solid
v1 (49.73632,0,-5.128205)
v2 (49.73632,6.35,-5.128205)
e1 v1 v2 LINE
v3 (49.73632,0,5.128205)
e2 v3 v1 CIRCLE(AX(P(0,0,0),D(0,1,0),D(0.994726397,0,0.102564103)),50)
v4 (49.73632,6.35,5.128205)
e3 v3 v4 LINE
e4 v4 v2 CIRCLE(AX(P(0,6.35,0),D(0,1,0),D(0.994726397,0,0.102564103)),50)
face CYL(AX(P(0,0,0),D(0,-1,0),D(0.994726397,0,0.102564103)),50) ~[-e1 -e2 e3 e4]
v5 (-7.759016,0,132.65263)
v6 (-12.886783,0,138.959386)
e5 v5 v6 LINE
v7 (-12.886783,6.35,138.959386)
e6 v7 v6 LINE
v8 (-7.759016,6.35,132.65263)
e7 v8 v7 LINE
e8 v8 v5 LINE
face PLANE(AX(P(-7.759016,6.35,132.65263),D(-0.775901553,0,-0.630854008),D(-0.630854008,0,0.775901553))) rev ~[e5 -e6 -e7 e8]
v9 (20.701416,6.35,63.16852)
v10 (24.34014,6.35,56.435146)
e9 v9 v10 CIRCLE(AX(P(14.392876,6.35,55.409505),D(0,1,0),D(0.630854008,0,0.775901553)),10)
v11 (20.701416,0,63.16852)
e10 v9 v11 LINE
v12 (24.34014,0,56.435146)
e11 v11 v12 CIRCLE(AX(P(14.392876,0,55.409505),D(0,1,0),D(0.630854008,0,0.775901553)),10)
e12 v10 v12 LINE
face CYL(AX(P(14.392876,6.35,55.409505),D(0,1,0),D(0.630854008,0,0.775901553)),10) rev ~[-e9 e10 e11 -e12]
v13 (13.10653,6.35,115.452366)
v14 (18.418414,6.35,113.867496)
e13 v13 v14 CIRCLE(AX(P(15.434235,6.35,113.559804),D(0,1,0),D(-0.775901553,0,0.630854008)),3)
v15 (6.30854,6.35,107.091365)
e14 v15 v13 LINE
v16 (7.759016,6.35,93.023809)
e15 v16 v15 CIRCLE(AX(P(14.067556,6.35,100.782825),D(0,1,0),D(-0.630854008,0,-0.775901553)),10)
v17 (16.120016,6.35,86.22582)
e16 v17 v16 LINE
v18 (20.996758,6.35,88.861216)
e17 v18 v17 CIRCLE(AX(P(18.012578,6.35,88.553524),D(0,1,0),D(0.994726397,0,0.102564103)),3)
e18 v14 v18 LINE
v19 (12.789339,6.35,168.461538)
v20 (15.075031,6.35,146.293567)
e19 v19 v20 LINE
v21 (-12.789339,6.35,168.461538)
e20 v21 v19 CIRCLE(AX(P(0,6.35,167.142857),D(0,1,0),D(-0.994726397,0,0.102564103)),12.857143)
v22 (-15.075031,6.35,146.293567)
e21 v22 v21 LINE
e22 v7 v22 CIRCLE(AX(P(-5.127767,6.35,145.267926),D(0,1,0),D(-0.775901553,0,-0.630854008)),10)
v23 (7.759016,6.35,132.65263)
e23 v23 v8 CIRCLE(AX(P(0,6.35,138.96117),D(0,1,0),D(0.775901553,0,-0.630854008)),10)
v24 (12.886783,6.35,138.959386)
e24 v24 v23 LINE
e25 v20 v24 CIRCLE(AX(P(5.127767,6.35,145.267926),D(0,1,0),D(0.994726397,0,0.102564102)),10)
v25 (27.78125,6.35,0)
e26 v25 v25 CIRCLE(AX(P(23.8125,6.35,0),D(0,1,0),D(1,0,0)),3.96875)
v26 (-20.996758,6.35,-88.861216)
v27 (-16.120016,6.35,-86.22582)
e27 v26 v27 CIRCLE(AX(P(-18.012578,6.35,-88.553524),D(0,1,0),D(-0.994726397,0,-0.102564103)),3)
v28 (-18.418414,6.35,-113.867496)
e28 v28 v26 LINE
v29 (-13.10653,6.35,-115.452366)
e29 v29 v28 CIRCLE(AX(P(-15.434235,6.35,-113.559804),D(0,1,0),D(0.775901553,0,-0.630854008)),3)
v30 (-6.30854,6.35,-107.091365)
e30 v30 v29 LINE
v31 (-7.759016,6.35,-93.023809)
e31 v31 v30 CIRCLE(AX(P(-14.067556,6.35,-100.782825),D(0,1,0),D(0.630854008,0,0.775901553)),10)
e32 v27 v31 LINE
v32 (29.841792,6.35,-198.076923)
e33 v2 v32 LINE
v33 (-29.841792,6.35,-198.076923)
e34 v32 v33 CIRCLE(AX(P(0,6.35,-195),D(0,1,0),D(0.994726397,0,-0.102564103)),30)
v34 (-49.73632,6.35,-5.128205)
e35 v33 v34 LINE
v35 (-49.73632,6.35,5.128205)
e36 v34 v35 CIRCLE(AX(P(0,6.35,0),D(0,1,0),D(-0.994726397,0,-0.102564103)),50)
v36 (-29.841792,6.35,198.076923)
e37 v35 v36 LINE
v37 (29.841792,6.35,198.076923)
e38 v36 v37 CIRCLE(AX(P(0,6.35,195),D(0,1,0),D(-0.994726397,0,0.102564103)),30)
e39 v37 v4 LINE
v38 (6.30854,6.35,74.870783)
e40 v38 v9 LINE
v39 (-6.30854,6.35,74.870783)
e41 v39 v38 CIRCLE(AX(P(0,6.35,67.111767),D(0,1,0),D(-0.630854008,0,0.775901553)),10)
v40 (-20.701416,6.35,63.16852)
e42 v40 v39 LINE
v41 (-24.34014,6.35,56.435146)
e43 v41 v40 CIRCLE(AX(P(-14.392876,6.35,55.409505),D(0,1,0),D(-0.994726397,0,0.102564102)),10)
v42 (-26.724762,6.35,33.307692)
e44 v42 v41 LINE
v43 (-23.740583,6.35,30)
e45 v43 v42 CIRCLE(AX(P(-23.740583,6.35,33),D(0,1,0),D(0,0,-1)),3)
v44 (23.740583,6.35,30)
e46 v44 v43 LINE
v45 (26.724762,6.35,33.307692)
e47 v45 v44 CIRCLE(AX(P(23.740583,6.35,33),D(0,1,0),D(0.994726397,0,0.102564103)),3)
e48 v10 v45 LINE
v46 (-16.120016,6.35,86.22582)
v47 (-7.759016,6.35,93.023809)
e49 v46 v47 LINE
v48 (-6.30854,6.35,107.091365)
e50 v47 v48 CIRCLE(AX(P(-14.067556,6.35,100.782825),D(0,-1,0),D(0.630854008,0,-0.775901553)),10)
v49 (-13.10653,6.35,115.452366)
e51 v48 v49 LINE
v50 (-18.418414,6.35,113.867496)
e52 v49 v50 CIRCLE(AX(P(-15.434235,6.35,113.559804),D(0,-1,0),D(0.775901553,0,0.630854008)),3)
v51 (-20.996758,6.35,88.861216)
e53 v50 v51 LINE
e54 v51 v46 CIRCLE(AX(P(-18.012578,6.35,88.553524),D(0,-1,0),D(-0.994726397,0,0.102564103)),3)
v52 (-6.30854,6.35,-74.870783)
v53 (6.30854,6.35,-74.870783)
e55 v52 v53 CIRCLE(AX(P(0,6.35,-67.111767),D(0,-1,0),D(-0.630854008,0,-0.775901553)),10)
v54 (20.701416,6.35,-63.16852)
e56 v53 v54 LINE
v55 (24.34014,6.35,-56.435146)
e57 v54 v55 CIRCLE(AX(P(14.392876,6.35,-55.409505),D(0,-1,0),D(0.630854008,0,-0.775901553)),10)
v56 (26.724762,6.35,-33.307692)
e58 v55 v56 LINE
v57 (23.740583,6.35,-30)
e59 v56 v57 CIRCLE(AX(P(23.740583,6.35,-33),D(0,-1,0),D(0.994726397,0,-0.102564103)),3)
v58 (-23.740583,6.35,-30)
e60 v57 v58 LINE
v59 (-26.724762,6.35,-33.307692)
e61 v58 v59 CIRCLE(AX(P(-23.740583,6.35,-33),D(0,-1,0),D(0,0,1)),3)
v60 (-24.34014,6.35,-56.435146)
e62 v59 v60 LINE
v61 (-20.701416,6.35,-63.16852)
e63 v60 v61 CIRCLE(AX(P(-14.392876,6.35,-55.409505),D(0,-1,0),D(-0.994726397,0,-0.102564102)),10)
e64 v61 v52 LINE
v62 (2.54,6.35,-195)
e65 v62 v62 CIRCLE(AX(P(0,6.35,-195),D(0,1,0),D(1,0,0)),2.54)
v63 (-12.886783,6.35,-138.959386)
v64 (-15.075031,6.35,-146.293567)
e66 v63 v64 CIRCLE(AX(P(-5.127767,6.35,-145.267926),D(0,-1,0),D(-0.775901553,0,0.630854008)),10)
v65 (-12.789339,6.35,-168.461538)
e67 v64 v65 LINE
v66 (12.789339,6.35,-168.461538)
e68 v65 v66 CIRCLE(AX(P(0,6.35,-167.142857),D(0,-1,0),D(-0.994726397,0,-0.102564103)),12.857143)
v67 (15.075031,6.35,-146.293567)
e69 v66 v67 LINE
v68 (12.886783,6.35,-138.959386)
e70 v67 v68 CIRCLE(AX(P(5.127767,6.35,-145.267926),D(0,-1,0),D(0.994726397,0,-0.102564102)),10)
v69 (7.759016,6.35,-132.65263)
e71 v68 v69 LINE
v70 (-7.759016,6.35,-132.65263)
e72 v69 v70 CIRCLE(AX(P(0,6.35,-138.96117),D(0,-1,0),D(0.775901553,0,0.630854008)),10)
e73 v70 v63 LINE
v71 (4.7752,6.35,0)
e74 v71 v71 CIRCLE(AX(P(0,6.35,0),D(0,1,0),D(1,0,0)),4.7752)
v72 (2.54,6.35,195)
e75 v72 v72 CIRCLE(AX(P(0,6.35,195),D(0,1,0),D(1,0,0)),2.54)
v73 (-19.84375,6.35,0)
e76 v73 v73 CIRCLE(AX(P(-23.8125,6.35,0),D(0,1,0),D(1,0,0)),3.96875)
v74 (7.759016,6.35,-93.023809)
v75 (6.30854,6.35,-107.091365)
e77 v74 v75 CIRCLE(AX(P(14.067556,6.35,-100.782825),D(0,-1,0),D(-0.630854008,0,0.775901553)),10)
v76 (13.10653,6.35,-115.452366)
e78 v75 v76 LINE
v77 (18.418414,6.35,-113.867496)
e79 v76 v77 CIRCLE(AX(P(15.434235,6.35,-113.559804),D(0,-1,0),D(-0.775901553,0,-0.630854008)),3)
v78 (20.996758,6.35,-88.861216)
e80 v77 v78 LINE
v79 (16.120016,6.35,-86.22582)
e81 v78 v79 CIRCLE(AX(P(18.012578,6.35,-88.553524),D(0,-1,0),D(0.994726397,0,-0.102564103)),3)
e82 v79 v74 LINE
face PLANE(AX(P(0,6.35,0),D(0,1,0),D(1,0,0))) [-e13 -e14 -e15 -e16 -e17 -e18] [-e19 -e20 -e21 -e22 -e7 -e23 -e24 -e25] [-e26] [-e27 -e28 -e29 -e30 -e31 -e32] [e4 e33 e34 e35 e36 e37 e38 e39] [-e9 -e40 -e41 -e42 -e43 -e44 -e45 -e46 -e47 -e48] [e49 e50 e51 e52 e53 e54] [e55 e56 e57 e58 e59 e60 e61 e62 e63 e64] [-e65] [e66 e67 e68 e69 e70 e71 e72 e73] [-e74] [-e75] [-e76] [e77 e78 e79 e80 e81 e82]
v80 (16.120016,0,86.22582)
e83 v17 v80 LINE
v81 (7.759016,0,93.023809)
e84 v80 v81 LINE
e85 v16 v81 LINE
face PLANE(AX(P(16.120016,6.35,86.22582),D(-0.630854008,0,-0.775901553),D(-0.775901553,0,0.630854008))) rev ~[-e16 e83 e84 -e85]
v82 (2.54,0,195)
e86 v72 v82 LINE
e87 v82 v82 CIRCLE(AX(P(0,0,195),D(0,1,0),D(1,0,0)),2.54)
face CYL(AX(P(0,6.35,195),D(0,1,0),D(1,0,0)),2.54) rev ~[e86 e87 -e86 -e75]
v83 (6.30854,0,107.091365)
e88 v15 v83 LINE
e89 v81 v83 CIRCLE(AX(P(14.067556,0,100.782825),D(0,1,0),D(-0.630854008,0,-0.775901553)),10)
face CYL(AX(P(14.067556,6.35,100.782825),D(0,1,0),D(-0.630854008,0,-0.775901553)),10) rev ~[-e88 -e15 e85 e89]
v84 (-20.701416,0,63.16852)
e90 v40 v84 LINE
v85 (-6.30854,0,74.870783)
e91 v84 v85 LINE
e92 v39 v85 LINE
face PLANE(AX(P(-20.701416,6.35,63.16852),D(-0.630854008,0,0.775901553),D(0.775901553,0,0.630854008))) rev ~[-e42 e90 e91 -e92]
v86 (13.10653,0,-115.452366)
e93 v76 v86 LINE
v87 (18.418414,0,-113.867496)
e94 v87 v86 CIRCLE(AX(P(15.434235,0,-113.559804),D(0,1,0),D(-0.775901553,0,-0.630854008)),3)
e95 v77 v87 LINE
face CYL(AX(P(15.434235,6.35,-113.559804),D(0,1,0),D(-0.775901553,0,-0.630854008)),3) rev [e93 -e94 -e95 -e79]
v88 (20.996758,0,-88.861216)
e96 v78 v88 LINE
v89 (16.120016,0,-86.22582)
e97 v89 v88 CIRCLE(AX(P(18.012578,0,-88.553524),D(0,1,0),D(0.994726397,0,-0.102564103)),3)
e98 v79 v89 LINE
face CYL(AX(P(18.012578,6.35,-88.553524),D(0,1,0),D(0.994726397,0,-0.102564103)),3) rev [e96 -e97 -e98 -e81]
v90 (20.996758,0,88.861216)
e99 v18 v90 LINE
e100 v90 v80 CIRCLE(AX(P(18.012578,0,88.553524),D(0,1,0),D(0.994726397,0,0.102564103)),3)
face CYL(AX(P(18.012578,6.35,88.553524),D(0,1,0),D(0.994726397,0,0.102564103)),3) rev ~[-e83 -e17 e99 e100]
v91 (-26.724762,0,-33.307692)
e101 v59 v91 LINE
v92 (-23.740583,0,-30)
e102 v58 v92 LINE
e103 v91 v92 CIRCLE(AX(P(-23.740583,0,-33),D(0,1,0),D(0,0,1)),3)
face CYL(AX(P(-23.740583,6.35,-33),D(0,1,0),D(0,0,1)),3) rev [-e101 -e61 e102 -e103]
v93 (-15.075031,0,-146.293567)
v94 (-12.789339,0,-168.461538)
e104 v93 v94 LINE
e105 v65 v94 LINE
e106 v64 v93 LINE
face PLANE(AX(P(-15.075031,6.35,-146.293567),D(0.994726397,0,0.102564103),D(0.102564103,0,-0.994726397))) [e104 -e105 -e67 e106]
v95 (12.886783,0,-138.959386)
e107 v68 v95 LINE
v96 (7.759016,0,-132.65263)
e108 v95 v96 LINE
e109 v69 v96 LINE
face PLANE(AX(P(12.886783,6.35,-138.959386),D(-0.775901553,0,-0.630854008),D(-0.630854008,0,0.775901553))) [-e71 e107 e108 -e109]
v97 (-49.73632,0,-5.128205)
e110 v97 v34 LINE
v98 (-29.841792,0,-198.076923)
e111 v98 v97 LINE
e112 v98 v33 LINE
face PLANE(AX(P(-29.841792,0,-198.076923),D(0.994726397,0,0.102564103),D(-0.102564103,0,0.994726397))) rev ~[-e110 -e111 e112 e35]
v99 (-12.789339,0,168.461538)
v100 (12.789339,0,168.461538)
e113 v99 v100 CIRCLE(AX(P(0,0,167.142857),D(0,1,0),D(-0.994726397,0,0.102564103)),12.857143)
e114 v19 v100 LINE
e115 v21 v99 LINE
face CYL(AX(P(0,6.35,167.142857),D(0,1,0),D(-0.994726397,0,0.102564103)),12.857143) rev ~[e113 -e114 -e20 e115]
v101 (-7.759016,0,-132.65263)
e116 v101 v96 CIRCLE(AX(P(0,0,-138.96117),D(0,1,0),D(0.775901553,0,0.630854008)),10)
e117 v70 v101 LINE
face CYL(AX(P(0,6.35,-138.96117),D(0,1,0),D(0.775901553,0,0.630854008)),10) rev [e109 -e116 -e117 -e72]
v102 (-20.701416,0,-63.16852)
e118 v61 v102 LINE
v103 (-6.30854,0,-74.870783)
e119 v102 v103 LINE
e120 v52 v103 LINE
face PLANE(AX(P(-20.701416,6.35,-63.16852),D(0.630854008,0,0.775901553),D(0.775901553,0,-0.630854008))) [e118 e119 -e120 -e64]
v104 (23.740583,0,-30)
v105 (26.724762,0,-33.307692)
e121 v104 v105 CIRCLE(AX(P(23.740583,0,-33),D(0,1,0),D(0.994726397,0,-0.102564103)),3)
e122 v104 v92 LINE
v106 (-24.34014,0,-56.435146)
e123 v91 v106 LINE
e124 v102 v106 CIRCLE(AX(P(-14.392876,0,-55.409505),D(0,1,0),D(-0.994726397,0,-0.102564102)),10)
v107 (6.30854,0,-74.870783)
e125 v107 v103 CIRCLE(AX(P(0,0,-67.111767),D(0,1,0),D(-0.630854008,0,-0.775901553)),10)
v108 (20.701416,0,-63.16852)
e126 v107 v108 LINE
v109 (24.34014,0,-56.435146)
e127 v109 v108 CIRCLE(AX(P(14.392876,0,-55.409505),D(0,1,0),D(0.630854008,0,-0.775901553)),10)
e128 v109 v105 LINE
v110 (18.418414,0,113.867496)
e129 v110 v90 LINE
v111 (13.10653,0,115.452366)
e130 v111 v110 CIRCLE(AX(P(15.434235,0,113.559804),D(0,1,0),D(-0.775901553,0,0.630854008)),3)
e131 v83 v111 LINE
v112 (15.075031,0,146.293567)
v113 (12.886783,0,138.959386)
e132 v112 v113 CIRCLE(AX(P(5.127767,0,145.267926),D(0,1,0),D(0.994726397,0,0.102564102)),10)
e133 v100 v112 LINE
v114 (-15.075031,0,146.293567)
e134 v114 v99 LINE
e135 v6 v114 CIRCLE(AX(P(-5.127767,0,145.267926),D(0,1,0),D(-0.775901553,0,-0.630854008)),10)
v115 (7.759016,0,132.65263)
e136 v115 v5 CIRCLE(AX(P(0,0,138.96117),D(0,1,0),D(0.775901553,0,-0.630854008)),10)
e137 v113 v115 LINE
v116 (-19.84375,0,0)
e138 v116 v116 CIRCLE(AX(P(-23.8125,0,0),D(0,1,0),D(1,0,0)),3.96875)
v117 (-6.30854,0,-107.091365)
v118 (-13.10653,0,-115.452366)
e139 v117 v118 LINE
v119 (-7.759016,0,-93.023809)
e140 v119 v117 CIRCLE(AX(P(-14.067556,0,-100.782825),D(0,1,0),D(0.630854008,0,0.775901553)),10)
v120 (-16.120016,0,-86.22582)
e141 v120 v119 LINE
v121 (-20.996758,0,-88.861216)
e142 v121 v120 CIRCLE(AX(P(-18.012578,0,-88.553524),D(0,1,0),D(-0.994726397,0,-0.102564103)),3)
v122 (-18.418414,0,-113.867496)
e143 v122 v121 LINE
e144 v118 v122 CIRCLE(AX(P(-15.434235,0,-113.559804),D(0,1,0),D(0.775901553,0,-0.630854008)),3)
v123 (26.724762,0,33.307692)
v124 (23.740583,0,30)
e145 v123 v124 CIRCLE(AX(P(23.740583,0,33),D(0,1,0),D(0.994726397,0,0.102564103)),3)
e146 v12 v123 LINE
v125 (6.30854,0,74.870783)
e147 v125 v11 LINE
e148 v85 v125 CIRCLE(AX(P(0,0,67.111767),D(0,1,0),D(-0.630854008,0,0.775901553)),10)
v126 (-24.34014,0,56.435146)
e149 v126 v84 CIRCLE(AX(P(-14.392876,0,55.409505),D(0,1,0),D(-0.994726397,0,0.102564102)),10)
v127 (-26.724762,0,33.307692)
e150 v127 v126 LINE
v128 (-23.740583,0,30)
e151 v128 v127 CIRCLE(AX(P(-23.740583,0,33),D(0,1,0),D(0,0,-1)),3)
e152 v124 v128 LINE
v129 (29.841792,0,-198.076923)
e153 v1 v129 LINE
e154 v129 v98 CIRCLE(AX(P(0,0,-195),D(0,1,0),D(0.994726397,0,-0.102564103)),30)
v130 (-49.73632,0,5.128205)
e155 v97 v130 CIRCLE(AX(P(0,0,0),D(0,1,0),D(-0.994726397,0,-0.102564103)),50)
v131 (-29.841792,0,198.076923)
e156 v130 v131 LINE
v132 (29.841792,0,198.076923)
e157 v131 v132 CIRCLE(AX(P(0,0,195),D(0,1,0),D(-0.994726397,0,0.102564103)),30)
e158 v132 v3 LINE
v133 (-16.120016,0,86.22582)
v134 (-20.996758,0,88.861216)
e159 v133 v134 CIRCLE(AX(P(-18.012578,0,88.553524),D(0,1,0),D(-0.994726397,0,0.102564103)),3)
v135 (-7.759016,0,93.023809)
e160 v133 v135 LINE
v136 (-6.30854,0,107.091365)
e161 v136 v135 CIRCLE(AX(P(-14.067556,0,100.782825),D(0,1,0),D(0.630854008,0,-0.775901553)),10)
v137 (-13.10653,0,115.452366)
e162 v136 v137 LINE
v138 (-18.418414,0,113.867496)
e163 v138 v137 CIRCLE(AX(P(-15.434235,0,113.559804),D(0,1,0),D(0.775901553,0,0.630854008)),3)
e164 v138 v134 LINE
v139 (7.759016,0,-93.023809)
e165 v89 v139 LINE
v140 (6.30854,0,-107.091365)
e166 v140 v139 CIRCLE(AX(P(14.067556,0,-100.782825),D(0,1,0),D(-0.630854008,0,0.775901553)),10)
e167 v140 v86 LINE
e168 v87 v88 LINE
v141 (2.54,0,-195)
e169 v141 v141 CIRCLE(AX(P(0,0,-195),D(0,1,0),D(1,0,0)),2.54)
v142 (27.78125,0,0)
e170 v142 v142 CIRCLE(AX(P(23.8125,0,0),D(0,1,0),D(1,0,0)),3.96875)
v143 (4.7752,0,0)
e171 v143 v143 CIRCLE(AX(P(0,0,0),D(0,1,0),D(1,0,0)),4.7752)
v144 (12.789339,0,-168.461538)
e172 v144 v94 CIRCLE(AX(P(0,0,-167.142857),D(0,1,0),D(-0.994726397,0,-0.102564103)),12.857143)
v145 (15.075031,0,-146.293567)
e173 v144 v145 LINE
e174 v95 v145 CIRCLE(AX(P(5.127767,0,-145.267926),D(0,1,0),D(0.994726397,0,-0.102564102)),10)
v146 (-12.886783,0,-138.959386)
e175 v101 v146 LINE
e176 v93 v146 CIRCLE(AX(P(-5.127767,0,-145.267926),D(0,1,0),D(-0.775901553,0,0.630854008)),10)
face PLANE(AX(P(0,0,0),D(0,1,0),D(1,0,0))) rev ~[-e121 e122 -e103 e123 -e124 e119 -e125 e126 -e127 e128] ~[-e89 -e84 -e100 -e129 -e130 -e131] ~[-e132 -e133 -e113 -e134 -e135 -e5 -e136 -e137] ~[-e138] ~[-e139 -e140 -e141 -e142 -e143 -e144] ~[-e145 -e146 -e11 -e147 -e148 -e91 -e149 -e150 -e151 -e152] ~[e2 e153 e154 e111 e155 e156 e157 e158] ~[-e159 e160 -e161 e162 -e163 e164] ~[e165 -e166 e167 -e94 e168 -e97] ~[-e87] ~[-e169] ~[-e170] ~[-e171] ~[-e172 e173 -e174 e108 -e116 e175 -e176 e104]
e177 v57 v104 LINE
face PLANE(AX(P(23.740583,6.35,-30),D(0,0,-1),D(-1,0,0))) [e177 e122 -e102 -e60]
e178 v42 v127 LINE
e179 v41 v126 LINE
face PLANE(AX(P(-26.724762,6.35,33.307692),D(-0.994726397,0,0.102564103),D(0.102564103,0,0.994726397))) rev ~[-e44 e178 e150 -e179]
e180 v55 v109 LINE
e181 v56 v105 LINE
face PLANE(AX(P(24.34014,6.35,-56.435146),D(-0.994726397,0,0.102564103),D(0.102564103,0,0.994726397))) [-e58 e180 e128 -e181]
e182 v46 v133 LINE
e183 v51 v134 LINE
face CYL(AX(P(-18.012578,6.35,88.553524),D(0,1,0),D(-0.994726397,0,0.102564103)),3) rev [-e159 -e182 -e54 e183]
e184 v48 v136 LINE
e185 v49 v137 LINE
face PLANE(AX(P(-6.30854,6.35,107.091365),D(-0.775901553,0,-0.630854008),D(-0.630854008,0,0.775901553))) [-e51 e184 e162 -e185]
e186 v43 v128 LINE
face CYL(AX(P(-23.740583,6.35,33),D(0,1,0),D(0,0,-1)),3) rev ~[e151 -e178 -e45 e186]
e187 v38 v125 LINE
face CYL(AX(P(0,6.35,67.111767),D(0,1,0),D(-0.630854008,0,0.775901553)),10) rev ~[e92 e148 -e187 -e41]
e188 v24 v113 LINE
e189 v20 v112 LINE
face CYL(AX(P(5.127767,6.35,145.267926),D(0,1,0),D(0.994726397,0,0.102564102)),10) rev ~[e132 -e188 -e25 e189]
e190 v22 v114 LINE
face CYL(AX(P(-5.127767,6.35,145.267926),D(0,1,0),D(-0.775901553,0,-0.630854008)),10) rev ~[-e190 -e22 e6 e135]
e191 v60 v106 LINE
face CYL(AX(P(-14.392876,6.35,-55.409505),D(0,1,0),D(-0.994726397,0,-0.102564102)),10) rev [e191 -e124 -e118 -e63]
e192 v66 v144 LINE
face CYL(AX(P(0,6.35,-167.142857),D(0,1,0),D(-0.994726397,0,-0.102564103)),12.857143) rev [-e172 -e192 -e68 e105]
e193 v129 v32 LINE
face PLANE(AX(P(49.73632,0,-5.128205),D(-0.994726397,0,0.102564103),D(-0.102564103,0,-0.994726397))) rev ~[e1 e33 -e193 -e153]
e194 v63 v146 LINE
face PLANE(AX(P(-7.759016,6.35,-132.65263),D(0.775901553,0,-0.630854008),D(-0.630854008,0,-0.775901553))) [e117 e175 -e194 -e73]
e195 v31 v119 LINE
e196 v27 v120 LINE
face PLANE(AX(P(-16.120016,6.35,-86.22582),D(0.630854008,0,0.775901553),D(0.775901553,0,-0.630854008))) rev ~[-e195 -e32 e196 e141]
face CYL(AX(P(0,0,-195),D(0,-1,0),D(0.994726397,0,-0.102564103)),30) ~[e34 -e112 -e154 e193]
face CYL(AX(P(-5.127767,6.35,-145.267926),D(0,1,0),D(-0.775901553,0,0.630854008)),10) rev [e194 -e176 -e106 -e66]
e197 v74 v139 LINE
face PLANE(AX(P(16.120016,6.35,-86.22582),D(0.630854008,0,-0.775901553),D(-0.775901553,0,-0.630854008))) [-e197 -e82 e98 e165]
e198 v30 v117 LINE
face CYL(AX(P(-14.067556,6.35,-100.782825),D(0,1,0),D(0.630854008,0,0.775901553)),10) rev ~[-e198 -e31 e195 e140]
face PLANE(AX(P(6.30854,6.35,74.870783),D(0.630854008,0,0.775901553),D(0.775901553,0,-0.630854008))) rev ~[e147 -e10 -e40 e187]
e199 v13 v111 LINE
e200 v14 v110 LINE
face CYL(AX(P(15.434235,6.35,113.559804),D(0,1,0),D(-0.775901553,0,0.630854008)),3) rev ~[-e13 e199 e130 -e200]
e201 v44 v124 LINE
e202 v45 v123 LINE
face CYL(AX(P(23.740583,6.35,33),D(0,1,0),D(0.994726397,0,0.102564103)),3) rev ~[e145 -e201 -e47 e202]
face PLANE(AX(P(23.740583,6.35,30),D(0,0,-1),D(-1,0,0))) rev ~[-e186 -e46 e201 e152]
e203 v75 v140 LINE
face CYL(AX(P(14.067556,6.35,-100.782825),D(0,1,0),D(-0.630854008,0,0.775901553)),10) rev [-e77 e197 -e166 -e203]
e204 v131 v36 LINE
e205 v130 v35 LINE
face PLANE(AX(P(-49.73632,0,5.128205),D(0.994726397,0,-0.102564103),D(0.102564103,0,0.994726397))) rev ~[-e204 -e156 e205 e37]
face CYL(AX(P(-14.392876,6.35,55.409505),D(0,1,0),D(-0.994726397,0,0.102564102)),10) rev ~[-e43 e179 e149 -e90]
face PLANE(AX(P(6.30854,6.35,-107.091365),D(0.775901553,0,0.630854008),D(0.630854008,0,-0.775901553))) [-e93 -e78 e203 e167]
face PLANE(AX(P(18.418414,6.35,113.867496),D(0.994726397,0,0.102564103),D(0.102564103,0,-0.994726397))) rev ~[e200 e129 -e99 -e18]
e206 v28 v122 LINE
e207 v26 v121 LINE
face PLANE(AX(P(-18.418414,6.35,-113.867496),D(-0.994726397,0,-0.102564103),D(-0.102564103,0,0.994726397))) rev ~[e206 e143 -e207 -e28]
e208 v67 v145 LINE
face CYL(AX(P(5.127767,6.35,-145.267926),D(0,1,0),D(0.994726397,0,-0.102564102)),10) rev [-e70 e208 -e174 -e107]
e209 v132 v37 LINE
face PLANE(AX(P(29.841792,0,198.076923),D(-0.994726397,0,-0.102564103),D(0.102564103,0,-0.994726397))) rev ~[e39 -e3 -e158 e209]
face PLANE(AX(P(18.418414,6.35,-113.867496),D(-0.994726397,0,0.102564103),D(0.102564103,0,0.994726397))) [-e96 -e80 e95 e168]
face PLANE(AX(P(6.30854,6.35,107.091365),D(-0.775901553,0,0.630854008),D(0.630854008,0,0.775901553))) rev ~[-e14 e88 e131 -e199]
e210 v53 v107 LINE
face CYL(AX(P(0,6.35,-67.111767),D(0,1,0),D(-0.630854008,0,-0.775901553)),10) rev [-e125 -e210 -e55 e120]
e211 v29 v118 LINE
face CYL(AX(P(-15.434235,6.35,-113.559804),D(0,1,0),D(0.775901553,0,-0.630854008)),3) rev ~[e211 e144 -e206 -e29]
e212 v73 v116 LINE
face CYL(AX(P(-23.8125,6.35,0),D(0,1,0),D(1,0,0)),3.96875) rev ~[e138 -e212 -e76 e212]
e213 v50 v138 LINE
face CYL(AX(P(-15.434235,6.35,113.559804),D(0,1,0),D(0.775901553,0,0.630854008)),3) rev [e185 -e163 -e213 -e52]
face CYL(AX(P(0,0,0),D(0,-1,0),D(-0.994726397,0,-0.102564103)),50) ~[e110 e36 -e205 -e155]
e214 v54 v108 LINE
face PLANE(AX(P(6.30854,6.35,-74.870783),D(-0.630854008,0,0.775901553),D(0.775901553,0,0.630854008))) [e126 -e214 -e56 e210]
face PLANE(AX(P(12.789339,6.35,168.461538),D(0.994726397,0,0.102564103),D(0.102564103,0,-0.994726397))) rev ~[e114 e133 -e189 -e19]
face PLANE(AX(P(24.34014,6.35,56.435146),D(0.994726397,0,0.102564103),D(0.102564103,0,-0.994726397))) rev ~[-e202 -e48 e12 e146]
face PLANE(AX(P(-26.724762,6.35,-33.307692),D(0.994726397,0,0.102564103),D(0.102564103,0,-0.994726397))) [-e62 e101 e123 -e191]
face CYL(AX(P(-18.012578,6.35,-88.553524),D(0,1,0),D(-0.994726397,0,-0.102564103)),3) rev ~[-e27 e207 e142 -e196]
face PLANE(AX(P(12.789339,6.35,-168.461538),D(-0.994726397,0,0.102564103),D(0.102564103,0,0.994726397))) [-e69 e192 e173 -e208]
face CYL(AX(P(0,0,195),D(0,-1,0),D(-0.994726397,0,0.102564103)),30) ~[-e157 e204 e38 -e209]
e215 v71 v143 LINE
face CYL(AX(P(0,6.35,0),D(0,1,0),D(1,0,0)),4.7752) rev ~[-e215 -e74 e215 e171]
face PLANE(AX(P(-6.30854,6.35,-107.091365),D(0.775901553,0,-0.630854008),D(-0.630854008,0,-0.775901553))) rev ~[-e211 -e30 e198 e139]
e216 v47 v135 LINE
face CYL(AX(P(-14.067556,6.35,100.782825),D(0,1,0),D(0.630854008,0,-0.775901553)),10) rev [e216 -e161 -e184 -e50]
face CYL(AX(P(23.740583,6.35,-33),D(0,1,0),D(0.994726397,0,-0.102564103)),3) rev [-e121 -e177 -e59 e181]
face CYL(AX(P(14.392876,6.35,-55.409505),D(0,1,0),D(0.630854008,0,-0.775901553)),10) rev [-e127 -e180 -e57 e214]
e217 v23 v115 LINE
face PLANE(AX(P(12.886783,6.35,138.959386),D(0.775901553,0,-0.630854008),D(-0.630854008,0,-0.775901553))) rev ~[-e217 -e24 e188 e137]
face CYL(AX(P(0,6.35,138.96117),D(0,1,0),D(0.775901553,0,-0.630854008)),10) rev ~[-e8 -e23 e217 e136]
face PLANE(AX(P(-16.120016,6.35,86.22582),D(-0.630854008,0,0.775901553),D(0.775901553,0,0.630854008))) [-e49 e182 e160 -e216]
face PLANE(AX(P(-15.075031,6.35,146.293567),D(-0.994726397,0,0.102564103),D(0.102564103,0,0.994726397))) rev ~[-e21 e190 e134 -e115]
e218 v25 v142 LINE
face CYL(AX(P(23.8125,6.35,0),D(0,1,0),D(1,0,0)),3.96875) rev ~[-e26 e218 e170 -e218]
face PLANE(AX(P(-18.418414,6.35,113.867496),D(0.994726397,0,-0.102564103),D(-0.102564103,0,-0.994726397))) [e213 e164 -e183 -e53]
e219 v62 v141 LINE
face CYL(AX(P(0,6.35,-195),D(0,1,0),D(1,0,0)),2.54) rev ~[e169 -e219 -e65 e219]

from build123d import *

# Parameters (mm, degrees)
BASE_DEPTH         = 6.35
SKETCH2_R          = 4.7752
SKETCH2_R_2        = 2.54
SKETCH2_R_3        = 3.96875
BOLTS_DEPTH        = 7.35
CUT_EXTRUDE1_DEPTH = 7.35


with BuildPart() as part:
    # Sketch1 → Base (new body)
    with BuildSketch(Plane(origin=(0, 0, 0), x_dir=(1, 0, 0), z_dir=(0, 1, 0))):
        with BuildLine():
            Line((-29.84179191, 198.076923077), (-49.736319849, 5.128205128))
            ThreePointArc((-49.736319849, 5.128205128), (-50, 0), (-49.736319849, -5.128205128))
            Line((-49.736319849, -5.128205128), (-29.84179191, -198.076923077))
            ThreePointArc((-29.84179191, -198.076923077), (0, -225), (29.84179191, -198.076923077))
            Line((29.84179191, -198.076923077), (49.736319849, -5.128205128))
            ThreePointArc((49.736319849, -5.128205128), (50, 0), (49.736319849, 5.128205128))
            Line((49.736319849, 5.128205128), (29.84179191, 198.076923077))
            ThreePointArc((29.84179191, 198.076923077), (0, 225), (-29.84179191, 198.076923077))
        make_face()
    extrude(amount=BASE_DEPTH)

    # Sketch2 → Bolts (cut, through all)
    with BuildSketch(Plane(origin=(0, 6.35, 0), x_dir=(1, 0, 0), z_dir=(0, 1, 0))):
        Circle(SKETCH2_R)
        with Locations((0, 195)):
            Circle(SKETCH2_R_2)
        with Locations((-23.8125, 0)):
            Circle(SKETCH2_R_3)
        with Locations((23.8125, 0)):
            Circle(SKETCH2_R_3)
        with Locations((0, -195)):
            Circle(SKETCH2_R_2)
    extrude(amount=-BOLTS_DEPTH, mode=Mode.SUBTRACT)

    # Sketch4 → Cut-Extrude1 (cut, through all)
    with BuildSketch(Plane(origin=(0, 6.35, 0), x_dir=(1, 0, 0), z_dir=(0, 1, 0))):
        with BuildLine():
            Line((-26.724762216, -33.307692308), (-24.340140182, -56.435145528))
            ThreePointArc((-24.340140182, -56.435145528), (-23.190453971, -60.163726372), (-20.701416296, -63.168520034))
            Line((-20.701416296, -63.168520034), (-6.308540083, -74.870782535))
            ThreePointArc((-6.308540083, -74.870782535), (0, -77.111767003), (6.308540083, -74.870782535))
            Line((6.308540083, -74.870782535), (20.701416296, -63.168520034))
            ThreePointArc((20.701416296, -63.168520034), (23.190453971, -60.163726372), (24.340140182, -56.435145528))
            Line((24.340140182, -56.435145528), (26.724762216, -33.307692308))
            ThreePointArc((26.724762216, -33.307692308), (25.968034139, -30.990407619), (23.740583026, -30))
            Line((23.740583026, -30), (-23.740583026, -30))
            ThreePointArc((-23.740583026, -30), (-25.968034139, -30.990407619), (-26.724762216, -33.307692308))
        make_face()
        with BuildLine():
            Line((16.120016428, -86.225819503), (7.759015532, -93.023809413))
            ThreePointArc((7.759015532, -93.023809413), (4.120291645, -99.757183919), (6.308540083, -107.091365027))
            Line((6.308540083, -107.091365027), (13.106529993, -115.452365924))
            ThreePointArc((13.106529993, -115.452365924), (16.291959962, -116.434574723), (18.418413843, -113.867496207))
            Line((18.418413843, -113.867496207), (20.996757644, -88.86121647))
            ThreePointArc((20.996757644, -88.86121647), (19.438845014, -85.914250835), (16.120016428, -86.225819503))
        make_face()
        with BuildLine():
            Line((-6.308540083, -107.091365027), (-13.106529993, -115.452365924))
            ThreePointArc((-13.106529993, -115.452365924), (-16.291959962, -116.434574723), (-18.418413843, -113.867496207))
            Line((-18.418413843, -113.867496207), (-20.996757644, -88.86121647))
            ThreePointArc((-20.996757644, -88.86121647), (-19.438845014, -85.914250835), (-16.120016428, -86.225819503))
            Line((-16.120016428, -86.225819503), (-7.759015532, -93.023809413))
            ThreePointArc((-7.759015532, -93.023809413), (-4.120291645, -99.757183919), (-6.308540083, -107.091365027))
        make_face()
        with BuildLine():
            Line((-7.759015532, -132.652629505), (-12.886782867, -138.95938604))
            ThreePointArc((-12.886782867, -138.95938604), (-14.710336749, -142.408841756), (-15.075031305, -146.293567149))
            Line((-15.075031305, -146.293567149), (-12.78933939, -168.461538462))
            ThreePointArc((-12.78933939, -168.461538462), (0, -180), (12.78933939, -168.461538462))
            Line((12.78933939, -168.461538462), (15.075031305, -146.293567149))
            ThreePointArc((15.075031305, -146.293567149), (14.710336749, -142.408841756), (12.886782867, -138.95938604))
            Line((12.886782867, -138.95938604), (7.759015532, -132.652629505))
            ThreePointArc((7.759015532, -132.652629505), (0, -128.961169588), (-7.759015532, -132.652629505))
        make_face()
        with BuildLine():
            Line((24.340140182, 56.435145528), (26.724762216, 33.307692308))
            ThreePointArc((26.724762216, 33.307692308), (25.968034139, 30.990407619), (23.740583026, 30))
            Line((23.740583026, 30), (-23.740583026, 30))
            ThreePointArc((-23.740583026, 30), (-25.968034139, 30.990407619), (-26.724762216, 33.307692308))
            Line((-26.724762216, 33.307692308), (-24.340140182, 56.435145528))
            ThreePointArc((-24.340140182, 56.435145528), (-23.190453971, 60.163726372), (-20.701416296, 63.168520034))
            Line((-20.701416296, 63.168520034), (-6.308540083, 74.870782535))
            ThreePointArc((-6.308540083, 74.870782535), (0, 77.111767003), (6.308540083, 74.870782535))
            Line((6.308540083, 74.870782535), (20.701416296, 63.168520034))
            ThreePointArc((20.701416296, 63.168520034), (23.190453971, 60.163726372), (24.340140182, 56.435145528))
        make_face()
        with BuildLine():
            Line((-16.120016428, 86.225819503), (-7.759015532, 93.023809413))
            ThreePointArc((-7.759015532, 93.023809413), (-4.120291645, 99.757183919), (-6.308540083, 107.091365027))
            Line((-6.308540083, 107.091365027), (-13.106529993, 115.452365924))
            ThreePointArc((-13.106529993, 115.452365924), (-16.291959962, 116.434574723), (-18.418413843, 113.867496207))
            Line((-18.418413843, 113.867496207), (-20.996757644, 88.86121647))
            ThreePointArc((-20.996757644, 88.86121647), (-19.438845014, 85.914250835), (-16.120016428, 86.225819503))
        make_face()
        with BuildLine():
            Line((6.308540083, 107.091365027), (13.106529993, 115.452365924))
            ThreePointArc((13.106529993, 115.452365924), (16.291959962, 116.434574723), (18.418413843, 113.867496207))
            Line((18.418413843, 113.867496207), (20.996757644, 88.86121647))
            ThreePointArc((20.996757644, 88.86121647), (19.438845014, 85.914250835), (16.120016428, 86.225819503))
            Line((16.120016428, 86.225819503), (7.759015532, 93.023809413))
            ThreePointArc((7.759015532, 93.023809413), (4.120291645, 99.757183919), (6.308540083, 107.091365027))
        make_face()
        with BuildLine():
            Line((12.78933939, 168.461538462), (15.075031305, 146.293567149))
            ThreePointArc((15.075031305, 146.293567149), (14.710336749, 142.408841756), (12.886782867, 138.95938604))
            Line((12.886782867, 138.95938604), (7.759015532, 132.652629505))
            ThreePointArc((7.759015532, 132.652629505), (0, 128.961169588), (-7.759015532, 132.652629505))
            Line((-7.759015532, 132.652629505), (-12.886782867, 138.95938604))
            ThreePointArc((-12.886782867, 138.95938604), (-14.710336749, 142.408841756), (-15.075031305, 146.293567149))
            Line((-15.075031305, 146.293567149), (-12.78933939, 168.461538462))
            ThreePointArc((-12.78933939, 168.461538462), (0, 180), (12.78933939, 168.461538462))
        make_face()
    extrude(amount=-CUT_EXTRUDE1_DEPTH, mode=Mode.SUBTRACT)


solid = part.part
